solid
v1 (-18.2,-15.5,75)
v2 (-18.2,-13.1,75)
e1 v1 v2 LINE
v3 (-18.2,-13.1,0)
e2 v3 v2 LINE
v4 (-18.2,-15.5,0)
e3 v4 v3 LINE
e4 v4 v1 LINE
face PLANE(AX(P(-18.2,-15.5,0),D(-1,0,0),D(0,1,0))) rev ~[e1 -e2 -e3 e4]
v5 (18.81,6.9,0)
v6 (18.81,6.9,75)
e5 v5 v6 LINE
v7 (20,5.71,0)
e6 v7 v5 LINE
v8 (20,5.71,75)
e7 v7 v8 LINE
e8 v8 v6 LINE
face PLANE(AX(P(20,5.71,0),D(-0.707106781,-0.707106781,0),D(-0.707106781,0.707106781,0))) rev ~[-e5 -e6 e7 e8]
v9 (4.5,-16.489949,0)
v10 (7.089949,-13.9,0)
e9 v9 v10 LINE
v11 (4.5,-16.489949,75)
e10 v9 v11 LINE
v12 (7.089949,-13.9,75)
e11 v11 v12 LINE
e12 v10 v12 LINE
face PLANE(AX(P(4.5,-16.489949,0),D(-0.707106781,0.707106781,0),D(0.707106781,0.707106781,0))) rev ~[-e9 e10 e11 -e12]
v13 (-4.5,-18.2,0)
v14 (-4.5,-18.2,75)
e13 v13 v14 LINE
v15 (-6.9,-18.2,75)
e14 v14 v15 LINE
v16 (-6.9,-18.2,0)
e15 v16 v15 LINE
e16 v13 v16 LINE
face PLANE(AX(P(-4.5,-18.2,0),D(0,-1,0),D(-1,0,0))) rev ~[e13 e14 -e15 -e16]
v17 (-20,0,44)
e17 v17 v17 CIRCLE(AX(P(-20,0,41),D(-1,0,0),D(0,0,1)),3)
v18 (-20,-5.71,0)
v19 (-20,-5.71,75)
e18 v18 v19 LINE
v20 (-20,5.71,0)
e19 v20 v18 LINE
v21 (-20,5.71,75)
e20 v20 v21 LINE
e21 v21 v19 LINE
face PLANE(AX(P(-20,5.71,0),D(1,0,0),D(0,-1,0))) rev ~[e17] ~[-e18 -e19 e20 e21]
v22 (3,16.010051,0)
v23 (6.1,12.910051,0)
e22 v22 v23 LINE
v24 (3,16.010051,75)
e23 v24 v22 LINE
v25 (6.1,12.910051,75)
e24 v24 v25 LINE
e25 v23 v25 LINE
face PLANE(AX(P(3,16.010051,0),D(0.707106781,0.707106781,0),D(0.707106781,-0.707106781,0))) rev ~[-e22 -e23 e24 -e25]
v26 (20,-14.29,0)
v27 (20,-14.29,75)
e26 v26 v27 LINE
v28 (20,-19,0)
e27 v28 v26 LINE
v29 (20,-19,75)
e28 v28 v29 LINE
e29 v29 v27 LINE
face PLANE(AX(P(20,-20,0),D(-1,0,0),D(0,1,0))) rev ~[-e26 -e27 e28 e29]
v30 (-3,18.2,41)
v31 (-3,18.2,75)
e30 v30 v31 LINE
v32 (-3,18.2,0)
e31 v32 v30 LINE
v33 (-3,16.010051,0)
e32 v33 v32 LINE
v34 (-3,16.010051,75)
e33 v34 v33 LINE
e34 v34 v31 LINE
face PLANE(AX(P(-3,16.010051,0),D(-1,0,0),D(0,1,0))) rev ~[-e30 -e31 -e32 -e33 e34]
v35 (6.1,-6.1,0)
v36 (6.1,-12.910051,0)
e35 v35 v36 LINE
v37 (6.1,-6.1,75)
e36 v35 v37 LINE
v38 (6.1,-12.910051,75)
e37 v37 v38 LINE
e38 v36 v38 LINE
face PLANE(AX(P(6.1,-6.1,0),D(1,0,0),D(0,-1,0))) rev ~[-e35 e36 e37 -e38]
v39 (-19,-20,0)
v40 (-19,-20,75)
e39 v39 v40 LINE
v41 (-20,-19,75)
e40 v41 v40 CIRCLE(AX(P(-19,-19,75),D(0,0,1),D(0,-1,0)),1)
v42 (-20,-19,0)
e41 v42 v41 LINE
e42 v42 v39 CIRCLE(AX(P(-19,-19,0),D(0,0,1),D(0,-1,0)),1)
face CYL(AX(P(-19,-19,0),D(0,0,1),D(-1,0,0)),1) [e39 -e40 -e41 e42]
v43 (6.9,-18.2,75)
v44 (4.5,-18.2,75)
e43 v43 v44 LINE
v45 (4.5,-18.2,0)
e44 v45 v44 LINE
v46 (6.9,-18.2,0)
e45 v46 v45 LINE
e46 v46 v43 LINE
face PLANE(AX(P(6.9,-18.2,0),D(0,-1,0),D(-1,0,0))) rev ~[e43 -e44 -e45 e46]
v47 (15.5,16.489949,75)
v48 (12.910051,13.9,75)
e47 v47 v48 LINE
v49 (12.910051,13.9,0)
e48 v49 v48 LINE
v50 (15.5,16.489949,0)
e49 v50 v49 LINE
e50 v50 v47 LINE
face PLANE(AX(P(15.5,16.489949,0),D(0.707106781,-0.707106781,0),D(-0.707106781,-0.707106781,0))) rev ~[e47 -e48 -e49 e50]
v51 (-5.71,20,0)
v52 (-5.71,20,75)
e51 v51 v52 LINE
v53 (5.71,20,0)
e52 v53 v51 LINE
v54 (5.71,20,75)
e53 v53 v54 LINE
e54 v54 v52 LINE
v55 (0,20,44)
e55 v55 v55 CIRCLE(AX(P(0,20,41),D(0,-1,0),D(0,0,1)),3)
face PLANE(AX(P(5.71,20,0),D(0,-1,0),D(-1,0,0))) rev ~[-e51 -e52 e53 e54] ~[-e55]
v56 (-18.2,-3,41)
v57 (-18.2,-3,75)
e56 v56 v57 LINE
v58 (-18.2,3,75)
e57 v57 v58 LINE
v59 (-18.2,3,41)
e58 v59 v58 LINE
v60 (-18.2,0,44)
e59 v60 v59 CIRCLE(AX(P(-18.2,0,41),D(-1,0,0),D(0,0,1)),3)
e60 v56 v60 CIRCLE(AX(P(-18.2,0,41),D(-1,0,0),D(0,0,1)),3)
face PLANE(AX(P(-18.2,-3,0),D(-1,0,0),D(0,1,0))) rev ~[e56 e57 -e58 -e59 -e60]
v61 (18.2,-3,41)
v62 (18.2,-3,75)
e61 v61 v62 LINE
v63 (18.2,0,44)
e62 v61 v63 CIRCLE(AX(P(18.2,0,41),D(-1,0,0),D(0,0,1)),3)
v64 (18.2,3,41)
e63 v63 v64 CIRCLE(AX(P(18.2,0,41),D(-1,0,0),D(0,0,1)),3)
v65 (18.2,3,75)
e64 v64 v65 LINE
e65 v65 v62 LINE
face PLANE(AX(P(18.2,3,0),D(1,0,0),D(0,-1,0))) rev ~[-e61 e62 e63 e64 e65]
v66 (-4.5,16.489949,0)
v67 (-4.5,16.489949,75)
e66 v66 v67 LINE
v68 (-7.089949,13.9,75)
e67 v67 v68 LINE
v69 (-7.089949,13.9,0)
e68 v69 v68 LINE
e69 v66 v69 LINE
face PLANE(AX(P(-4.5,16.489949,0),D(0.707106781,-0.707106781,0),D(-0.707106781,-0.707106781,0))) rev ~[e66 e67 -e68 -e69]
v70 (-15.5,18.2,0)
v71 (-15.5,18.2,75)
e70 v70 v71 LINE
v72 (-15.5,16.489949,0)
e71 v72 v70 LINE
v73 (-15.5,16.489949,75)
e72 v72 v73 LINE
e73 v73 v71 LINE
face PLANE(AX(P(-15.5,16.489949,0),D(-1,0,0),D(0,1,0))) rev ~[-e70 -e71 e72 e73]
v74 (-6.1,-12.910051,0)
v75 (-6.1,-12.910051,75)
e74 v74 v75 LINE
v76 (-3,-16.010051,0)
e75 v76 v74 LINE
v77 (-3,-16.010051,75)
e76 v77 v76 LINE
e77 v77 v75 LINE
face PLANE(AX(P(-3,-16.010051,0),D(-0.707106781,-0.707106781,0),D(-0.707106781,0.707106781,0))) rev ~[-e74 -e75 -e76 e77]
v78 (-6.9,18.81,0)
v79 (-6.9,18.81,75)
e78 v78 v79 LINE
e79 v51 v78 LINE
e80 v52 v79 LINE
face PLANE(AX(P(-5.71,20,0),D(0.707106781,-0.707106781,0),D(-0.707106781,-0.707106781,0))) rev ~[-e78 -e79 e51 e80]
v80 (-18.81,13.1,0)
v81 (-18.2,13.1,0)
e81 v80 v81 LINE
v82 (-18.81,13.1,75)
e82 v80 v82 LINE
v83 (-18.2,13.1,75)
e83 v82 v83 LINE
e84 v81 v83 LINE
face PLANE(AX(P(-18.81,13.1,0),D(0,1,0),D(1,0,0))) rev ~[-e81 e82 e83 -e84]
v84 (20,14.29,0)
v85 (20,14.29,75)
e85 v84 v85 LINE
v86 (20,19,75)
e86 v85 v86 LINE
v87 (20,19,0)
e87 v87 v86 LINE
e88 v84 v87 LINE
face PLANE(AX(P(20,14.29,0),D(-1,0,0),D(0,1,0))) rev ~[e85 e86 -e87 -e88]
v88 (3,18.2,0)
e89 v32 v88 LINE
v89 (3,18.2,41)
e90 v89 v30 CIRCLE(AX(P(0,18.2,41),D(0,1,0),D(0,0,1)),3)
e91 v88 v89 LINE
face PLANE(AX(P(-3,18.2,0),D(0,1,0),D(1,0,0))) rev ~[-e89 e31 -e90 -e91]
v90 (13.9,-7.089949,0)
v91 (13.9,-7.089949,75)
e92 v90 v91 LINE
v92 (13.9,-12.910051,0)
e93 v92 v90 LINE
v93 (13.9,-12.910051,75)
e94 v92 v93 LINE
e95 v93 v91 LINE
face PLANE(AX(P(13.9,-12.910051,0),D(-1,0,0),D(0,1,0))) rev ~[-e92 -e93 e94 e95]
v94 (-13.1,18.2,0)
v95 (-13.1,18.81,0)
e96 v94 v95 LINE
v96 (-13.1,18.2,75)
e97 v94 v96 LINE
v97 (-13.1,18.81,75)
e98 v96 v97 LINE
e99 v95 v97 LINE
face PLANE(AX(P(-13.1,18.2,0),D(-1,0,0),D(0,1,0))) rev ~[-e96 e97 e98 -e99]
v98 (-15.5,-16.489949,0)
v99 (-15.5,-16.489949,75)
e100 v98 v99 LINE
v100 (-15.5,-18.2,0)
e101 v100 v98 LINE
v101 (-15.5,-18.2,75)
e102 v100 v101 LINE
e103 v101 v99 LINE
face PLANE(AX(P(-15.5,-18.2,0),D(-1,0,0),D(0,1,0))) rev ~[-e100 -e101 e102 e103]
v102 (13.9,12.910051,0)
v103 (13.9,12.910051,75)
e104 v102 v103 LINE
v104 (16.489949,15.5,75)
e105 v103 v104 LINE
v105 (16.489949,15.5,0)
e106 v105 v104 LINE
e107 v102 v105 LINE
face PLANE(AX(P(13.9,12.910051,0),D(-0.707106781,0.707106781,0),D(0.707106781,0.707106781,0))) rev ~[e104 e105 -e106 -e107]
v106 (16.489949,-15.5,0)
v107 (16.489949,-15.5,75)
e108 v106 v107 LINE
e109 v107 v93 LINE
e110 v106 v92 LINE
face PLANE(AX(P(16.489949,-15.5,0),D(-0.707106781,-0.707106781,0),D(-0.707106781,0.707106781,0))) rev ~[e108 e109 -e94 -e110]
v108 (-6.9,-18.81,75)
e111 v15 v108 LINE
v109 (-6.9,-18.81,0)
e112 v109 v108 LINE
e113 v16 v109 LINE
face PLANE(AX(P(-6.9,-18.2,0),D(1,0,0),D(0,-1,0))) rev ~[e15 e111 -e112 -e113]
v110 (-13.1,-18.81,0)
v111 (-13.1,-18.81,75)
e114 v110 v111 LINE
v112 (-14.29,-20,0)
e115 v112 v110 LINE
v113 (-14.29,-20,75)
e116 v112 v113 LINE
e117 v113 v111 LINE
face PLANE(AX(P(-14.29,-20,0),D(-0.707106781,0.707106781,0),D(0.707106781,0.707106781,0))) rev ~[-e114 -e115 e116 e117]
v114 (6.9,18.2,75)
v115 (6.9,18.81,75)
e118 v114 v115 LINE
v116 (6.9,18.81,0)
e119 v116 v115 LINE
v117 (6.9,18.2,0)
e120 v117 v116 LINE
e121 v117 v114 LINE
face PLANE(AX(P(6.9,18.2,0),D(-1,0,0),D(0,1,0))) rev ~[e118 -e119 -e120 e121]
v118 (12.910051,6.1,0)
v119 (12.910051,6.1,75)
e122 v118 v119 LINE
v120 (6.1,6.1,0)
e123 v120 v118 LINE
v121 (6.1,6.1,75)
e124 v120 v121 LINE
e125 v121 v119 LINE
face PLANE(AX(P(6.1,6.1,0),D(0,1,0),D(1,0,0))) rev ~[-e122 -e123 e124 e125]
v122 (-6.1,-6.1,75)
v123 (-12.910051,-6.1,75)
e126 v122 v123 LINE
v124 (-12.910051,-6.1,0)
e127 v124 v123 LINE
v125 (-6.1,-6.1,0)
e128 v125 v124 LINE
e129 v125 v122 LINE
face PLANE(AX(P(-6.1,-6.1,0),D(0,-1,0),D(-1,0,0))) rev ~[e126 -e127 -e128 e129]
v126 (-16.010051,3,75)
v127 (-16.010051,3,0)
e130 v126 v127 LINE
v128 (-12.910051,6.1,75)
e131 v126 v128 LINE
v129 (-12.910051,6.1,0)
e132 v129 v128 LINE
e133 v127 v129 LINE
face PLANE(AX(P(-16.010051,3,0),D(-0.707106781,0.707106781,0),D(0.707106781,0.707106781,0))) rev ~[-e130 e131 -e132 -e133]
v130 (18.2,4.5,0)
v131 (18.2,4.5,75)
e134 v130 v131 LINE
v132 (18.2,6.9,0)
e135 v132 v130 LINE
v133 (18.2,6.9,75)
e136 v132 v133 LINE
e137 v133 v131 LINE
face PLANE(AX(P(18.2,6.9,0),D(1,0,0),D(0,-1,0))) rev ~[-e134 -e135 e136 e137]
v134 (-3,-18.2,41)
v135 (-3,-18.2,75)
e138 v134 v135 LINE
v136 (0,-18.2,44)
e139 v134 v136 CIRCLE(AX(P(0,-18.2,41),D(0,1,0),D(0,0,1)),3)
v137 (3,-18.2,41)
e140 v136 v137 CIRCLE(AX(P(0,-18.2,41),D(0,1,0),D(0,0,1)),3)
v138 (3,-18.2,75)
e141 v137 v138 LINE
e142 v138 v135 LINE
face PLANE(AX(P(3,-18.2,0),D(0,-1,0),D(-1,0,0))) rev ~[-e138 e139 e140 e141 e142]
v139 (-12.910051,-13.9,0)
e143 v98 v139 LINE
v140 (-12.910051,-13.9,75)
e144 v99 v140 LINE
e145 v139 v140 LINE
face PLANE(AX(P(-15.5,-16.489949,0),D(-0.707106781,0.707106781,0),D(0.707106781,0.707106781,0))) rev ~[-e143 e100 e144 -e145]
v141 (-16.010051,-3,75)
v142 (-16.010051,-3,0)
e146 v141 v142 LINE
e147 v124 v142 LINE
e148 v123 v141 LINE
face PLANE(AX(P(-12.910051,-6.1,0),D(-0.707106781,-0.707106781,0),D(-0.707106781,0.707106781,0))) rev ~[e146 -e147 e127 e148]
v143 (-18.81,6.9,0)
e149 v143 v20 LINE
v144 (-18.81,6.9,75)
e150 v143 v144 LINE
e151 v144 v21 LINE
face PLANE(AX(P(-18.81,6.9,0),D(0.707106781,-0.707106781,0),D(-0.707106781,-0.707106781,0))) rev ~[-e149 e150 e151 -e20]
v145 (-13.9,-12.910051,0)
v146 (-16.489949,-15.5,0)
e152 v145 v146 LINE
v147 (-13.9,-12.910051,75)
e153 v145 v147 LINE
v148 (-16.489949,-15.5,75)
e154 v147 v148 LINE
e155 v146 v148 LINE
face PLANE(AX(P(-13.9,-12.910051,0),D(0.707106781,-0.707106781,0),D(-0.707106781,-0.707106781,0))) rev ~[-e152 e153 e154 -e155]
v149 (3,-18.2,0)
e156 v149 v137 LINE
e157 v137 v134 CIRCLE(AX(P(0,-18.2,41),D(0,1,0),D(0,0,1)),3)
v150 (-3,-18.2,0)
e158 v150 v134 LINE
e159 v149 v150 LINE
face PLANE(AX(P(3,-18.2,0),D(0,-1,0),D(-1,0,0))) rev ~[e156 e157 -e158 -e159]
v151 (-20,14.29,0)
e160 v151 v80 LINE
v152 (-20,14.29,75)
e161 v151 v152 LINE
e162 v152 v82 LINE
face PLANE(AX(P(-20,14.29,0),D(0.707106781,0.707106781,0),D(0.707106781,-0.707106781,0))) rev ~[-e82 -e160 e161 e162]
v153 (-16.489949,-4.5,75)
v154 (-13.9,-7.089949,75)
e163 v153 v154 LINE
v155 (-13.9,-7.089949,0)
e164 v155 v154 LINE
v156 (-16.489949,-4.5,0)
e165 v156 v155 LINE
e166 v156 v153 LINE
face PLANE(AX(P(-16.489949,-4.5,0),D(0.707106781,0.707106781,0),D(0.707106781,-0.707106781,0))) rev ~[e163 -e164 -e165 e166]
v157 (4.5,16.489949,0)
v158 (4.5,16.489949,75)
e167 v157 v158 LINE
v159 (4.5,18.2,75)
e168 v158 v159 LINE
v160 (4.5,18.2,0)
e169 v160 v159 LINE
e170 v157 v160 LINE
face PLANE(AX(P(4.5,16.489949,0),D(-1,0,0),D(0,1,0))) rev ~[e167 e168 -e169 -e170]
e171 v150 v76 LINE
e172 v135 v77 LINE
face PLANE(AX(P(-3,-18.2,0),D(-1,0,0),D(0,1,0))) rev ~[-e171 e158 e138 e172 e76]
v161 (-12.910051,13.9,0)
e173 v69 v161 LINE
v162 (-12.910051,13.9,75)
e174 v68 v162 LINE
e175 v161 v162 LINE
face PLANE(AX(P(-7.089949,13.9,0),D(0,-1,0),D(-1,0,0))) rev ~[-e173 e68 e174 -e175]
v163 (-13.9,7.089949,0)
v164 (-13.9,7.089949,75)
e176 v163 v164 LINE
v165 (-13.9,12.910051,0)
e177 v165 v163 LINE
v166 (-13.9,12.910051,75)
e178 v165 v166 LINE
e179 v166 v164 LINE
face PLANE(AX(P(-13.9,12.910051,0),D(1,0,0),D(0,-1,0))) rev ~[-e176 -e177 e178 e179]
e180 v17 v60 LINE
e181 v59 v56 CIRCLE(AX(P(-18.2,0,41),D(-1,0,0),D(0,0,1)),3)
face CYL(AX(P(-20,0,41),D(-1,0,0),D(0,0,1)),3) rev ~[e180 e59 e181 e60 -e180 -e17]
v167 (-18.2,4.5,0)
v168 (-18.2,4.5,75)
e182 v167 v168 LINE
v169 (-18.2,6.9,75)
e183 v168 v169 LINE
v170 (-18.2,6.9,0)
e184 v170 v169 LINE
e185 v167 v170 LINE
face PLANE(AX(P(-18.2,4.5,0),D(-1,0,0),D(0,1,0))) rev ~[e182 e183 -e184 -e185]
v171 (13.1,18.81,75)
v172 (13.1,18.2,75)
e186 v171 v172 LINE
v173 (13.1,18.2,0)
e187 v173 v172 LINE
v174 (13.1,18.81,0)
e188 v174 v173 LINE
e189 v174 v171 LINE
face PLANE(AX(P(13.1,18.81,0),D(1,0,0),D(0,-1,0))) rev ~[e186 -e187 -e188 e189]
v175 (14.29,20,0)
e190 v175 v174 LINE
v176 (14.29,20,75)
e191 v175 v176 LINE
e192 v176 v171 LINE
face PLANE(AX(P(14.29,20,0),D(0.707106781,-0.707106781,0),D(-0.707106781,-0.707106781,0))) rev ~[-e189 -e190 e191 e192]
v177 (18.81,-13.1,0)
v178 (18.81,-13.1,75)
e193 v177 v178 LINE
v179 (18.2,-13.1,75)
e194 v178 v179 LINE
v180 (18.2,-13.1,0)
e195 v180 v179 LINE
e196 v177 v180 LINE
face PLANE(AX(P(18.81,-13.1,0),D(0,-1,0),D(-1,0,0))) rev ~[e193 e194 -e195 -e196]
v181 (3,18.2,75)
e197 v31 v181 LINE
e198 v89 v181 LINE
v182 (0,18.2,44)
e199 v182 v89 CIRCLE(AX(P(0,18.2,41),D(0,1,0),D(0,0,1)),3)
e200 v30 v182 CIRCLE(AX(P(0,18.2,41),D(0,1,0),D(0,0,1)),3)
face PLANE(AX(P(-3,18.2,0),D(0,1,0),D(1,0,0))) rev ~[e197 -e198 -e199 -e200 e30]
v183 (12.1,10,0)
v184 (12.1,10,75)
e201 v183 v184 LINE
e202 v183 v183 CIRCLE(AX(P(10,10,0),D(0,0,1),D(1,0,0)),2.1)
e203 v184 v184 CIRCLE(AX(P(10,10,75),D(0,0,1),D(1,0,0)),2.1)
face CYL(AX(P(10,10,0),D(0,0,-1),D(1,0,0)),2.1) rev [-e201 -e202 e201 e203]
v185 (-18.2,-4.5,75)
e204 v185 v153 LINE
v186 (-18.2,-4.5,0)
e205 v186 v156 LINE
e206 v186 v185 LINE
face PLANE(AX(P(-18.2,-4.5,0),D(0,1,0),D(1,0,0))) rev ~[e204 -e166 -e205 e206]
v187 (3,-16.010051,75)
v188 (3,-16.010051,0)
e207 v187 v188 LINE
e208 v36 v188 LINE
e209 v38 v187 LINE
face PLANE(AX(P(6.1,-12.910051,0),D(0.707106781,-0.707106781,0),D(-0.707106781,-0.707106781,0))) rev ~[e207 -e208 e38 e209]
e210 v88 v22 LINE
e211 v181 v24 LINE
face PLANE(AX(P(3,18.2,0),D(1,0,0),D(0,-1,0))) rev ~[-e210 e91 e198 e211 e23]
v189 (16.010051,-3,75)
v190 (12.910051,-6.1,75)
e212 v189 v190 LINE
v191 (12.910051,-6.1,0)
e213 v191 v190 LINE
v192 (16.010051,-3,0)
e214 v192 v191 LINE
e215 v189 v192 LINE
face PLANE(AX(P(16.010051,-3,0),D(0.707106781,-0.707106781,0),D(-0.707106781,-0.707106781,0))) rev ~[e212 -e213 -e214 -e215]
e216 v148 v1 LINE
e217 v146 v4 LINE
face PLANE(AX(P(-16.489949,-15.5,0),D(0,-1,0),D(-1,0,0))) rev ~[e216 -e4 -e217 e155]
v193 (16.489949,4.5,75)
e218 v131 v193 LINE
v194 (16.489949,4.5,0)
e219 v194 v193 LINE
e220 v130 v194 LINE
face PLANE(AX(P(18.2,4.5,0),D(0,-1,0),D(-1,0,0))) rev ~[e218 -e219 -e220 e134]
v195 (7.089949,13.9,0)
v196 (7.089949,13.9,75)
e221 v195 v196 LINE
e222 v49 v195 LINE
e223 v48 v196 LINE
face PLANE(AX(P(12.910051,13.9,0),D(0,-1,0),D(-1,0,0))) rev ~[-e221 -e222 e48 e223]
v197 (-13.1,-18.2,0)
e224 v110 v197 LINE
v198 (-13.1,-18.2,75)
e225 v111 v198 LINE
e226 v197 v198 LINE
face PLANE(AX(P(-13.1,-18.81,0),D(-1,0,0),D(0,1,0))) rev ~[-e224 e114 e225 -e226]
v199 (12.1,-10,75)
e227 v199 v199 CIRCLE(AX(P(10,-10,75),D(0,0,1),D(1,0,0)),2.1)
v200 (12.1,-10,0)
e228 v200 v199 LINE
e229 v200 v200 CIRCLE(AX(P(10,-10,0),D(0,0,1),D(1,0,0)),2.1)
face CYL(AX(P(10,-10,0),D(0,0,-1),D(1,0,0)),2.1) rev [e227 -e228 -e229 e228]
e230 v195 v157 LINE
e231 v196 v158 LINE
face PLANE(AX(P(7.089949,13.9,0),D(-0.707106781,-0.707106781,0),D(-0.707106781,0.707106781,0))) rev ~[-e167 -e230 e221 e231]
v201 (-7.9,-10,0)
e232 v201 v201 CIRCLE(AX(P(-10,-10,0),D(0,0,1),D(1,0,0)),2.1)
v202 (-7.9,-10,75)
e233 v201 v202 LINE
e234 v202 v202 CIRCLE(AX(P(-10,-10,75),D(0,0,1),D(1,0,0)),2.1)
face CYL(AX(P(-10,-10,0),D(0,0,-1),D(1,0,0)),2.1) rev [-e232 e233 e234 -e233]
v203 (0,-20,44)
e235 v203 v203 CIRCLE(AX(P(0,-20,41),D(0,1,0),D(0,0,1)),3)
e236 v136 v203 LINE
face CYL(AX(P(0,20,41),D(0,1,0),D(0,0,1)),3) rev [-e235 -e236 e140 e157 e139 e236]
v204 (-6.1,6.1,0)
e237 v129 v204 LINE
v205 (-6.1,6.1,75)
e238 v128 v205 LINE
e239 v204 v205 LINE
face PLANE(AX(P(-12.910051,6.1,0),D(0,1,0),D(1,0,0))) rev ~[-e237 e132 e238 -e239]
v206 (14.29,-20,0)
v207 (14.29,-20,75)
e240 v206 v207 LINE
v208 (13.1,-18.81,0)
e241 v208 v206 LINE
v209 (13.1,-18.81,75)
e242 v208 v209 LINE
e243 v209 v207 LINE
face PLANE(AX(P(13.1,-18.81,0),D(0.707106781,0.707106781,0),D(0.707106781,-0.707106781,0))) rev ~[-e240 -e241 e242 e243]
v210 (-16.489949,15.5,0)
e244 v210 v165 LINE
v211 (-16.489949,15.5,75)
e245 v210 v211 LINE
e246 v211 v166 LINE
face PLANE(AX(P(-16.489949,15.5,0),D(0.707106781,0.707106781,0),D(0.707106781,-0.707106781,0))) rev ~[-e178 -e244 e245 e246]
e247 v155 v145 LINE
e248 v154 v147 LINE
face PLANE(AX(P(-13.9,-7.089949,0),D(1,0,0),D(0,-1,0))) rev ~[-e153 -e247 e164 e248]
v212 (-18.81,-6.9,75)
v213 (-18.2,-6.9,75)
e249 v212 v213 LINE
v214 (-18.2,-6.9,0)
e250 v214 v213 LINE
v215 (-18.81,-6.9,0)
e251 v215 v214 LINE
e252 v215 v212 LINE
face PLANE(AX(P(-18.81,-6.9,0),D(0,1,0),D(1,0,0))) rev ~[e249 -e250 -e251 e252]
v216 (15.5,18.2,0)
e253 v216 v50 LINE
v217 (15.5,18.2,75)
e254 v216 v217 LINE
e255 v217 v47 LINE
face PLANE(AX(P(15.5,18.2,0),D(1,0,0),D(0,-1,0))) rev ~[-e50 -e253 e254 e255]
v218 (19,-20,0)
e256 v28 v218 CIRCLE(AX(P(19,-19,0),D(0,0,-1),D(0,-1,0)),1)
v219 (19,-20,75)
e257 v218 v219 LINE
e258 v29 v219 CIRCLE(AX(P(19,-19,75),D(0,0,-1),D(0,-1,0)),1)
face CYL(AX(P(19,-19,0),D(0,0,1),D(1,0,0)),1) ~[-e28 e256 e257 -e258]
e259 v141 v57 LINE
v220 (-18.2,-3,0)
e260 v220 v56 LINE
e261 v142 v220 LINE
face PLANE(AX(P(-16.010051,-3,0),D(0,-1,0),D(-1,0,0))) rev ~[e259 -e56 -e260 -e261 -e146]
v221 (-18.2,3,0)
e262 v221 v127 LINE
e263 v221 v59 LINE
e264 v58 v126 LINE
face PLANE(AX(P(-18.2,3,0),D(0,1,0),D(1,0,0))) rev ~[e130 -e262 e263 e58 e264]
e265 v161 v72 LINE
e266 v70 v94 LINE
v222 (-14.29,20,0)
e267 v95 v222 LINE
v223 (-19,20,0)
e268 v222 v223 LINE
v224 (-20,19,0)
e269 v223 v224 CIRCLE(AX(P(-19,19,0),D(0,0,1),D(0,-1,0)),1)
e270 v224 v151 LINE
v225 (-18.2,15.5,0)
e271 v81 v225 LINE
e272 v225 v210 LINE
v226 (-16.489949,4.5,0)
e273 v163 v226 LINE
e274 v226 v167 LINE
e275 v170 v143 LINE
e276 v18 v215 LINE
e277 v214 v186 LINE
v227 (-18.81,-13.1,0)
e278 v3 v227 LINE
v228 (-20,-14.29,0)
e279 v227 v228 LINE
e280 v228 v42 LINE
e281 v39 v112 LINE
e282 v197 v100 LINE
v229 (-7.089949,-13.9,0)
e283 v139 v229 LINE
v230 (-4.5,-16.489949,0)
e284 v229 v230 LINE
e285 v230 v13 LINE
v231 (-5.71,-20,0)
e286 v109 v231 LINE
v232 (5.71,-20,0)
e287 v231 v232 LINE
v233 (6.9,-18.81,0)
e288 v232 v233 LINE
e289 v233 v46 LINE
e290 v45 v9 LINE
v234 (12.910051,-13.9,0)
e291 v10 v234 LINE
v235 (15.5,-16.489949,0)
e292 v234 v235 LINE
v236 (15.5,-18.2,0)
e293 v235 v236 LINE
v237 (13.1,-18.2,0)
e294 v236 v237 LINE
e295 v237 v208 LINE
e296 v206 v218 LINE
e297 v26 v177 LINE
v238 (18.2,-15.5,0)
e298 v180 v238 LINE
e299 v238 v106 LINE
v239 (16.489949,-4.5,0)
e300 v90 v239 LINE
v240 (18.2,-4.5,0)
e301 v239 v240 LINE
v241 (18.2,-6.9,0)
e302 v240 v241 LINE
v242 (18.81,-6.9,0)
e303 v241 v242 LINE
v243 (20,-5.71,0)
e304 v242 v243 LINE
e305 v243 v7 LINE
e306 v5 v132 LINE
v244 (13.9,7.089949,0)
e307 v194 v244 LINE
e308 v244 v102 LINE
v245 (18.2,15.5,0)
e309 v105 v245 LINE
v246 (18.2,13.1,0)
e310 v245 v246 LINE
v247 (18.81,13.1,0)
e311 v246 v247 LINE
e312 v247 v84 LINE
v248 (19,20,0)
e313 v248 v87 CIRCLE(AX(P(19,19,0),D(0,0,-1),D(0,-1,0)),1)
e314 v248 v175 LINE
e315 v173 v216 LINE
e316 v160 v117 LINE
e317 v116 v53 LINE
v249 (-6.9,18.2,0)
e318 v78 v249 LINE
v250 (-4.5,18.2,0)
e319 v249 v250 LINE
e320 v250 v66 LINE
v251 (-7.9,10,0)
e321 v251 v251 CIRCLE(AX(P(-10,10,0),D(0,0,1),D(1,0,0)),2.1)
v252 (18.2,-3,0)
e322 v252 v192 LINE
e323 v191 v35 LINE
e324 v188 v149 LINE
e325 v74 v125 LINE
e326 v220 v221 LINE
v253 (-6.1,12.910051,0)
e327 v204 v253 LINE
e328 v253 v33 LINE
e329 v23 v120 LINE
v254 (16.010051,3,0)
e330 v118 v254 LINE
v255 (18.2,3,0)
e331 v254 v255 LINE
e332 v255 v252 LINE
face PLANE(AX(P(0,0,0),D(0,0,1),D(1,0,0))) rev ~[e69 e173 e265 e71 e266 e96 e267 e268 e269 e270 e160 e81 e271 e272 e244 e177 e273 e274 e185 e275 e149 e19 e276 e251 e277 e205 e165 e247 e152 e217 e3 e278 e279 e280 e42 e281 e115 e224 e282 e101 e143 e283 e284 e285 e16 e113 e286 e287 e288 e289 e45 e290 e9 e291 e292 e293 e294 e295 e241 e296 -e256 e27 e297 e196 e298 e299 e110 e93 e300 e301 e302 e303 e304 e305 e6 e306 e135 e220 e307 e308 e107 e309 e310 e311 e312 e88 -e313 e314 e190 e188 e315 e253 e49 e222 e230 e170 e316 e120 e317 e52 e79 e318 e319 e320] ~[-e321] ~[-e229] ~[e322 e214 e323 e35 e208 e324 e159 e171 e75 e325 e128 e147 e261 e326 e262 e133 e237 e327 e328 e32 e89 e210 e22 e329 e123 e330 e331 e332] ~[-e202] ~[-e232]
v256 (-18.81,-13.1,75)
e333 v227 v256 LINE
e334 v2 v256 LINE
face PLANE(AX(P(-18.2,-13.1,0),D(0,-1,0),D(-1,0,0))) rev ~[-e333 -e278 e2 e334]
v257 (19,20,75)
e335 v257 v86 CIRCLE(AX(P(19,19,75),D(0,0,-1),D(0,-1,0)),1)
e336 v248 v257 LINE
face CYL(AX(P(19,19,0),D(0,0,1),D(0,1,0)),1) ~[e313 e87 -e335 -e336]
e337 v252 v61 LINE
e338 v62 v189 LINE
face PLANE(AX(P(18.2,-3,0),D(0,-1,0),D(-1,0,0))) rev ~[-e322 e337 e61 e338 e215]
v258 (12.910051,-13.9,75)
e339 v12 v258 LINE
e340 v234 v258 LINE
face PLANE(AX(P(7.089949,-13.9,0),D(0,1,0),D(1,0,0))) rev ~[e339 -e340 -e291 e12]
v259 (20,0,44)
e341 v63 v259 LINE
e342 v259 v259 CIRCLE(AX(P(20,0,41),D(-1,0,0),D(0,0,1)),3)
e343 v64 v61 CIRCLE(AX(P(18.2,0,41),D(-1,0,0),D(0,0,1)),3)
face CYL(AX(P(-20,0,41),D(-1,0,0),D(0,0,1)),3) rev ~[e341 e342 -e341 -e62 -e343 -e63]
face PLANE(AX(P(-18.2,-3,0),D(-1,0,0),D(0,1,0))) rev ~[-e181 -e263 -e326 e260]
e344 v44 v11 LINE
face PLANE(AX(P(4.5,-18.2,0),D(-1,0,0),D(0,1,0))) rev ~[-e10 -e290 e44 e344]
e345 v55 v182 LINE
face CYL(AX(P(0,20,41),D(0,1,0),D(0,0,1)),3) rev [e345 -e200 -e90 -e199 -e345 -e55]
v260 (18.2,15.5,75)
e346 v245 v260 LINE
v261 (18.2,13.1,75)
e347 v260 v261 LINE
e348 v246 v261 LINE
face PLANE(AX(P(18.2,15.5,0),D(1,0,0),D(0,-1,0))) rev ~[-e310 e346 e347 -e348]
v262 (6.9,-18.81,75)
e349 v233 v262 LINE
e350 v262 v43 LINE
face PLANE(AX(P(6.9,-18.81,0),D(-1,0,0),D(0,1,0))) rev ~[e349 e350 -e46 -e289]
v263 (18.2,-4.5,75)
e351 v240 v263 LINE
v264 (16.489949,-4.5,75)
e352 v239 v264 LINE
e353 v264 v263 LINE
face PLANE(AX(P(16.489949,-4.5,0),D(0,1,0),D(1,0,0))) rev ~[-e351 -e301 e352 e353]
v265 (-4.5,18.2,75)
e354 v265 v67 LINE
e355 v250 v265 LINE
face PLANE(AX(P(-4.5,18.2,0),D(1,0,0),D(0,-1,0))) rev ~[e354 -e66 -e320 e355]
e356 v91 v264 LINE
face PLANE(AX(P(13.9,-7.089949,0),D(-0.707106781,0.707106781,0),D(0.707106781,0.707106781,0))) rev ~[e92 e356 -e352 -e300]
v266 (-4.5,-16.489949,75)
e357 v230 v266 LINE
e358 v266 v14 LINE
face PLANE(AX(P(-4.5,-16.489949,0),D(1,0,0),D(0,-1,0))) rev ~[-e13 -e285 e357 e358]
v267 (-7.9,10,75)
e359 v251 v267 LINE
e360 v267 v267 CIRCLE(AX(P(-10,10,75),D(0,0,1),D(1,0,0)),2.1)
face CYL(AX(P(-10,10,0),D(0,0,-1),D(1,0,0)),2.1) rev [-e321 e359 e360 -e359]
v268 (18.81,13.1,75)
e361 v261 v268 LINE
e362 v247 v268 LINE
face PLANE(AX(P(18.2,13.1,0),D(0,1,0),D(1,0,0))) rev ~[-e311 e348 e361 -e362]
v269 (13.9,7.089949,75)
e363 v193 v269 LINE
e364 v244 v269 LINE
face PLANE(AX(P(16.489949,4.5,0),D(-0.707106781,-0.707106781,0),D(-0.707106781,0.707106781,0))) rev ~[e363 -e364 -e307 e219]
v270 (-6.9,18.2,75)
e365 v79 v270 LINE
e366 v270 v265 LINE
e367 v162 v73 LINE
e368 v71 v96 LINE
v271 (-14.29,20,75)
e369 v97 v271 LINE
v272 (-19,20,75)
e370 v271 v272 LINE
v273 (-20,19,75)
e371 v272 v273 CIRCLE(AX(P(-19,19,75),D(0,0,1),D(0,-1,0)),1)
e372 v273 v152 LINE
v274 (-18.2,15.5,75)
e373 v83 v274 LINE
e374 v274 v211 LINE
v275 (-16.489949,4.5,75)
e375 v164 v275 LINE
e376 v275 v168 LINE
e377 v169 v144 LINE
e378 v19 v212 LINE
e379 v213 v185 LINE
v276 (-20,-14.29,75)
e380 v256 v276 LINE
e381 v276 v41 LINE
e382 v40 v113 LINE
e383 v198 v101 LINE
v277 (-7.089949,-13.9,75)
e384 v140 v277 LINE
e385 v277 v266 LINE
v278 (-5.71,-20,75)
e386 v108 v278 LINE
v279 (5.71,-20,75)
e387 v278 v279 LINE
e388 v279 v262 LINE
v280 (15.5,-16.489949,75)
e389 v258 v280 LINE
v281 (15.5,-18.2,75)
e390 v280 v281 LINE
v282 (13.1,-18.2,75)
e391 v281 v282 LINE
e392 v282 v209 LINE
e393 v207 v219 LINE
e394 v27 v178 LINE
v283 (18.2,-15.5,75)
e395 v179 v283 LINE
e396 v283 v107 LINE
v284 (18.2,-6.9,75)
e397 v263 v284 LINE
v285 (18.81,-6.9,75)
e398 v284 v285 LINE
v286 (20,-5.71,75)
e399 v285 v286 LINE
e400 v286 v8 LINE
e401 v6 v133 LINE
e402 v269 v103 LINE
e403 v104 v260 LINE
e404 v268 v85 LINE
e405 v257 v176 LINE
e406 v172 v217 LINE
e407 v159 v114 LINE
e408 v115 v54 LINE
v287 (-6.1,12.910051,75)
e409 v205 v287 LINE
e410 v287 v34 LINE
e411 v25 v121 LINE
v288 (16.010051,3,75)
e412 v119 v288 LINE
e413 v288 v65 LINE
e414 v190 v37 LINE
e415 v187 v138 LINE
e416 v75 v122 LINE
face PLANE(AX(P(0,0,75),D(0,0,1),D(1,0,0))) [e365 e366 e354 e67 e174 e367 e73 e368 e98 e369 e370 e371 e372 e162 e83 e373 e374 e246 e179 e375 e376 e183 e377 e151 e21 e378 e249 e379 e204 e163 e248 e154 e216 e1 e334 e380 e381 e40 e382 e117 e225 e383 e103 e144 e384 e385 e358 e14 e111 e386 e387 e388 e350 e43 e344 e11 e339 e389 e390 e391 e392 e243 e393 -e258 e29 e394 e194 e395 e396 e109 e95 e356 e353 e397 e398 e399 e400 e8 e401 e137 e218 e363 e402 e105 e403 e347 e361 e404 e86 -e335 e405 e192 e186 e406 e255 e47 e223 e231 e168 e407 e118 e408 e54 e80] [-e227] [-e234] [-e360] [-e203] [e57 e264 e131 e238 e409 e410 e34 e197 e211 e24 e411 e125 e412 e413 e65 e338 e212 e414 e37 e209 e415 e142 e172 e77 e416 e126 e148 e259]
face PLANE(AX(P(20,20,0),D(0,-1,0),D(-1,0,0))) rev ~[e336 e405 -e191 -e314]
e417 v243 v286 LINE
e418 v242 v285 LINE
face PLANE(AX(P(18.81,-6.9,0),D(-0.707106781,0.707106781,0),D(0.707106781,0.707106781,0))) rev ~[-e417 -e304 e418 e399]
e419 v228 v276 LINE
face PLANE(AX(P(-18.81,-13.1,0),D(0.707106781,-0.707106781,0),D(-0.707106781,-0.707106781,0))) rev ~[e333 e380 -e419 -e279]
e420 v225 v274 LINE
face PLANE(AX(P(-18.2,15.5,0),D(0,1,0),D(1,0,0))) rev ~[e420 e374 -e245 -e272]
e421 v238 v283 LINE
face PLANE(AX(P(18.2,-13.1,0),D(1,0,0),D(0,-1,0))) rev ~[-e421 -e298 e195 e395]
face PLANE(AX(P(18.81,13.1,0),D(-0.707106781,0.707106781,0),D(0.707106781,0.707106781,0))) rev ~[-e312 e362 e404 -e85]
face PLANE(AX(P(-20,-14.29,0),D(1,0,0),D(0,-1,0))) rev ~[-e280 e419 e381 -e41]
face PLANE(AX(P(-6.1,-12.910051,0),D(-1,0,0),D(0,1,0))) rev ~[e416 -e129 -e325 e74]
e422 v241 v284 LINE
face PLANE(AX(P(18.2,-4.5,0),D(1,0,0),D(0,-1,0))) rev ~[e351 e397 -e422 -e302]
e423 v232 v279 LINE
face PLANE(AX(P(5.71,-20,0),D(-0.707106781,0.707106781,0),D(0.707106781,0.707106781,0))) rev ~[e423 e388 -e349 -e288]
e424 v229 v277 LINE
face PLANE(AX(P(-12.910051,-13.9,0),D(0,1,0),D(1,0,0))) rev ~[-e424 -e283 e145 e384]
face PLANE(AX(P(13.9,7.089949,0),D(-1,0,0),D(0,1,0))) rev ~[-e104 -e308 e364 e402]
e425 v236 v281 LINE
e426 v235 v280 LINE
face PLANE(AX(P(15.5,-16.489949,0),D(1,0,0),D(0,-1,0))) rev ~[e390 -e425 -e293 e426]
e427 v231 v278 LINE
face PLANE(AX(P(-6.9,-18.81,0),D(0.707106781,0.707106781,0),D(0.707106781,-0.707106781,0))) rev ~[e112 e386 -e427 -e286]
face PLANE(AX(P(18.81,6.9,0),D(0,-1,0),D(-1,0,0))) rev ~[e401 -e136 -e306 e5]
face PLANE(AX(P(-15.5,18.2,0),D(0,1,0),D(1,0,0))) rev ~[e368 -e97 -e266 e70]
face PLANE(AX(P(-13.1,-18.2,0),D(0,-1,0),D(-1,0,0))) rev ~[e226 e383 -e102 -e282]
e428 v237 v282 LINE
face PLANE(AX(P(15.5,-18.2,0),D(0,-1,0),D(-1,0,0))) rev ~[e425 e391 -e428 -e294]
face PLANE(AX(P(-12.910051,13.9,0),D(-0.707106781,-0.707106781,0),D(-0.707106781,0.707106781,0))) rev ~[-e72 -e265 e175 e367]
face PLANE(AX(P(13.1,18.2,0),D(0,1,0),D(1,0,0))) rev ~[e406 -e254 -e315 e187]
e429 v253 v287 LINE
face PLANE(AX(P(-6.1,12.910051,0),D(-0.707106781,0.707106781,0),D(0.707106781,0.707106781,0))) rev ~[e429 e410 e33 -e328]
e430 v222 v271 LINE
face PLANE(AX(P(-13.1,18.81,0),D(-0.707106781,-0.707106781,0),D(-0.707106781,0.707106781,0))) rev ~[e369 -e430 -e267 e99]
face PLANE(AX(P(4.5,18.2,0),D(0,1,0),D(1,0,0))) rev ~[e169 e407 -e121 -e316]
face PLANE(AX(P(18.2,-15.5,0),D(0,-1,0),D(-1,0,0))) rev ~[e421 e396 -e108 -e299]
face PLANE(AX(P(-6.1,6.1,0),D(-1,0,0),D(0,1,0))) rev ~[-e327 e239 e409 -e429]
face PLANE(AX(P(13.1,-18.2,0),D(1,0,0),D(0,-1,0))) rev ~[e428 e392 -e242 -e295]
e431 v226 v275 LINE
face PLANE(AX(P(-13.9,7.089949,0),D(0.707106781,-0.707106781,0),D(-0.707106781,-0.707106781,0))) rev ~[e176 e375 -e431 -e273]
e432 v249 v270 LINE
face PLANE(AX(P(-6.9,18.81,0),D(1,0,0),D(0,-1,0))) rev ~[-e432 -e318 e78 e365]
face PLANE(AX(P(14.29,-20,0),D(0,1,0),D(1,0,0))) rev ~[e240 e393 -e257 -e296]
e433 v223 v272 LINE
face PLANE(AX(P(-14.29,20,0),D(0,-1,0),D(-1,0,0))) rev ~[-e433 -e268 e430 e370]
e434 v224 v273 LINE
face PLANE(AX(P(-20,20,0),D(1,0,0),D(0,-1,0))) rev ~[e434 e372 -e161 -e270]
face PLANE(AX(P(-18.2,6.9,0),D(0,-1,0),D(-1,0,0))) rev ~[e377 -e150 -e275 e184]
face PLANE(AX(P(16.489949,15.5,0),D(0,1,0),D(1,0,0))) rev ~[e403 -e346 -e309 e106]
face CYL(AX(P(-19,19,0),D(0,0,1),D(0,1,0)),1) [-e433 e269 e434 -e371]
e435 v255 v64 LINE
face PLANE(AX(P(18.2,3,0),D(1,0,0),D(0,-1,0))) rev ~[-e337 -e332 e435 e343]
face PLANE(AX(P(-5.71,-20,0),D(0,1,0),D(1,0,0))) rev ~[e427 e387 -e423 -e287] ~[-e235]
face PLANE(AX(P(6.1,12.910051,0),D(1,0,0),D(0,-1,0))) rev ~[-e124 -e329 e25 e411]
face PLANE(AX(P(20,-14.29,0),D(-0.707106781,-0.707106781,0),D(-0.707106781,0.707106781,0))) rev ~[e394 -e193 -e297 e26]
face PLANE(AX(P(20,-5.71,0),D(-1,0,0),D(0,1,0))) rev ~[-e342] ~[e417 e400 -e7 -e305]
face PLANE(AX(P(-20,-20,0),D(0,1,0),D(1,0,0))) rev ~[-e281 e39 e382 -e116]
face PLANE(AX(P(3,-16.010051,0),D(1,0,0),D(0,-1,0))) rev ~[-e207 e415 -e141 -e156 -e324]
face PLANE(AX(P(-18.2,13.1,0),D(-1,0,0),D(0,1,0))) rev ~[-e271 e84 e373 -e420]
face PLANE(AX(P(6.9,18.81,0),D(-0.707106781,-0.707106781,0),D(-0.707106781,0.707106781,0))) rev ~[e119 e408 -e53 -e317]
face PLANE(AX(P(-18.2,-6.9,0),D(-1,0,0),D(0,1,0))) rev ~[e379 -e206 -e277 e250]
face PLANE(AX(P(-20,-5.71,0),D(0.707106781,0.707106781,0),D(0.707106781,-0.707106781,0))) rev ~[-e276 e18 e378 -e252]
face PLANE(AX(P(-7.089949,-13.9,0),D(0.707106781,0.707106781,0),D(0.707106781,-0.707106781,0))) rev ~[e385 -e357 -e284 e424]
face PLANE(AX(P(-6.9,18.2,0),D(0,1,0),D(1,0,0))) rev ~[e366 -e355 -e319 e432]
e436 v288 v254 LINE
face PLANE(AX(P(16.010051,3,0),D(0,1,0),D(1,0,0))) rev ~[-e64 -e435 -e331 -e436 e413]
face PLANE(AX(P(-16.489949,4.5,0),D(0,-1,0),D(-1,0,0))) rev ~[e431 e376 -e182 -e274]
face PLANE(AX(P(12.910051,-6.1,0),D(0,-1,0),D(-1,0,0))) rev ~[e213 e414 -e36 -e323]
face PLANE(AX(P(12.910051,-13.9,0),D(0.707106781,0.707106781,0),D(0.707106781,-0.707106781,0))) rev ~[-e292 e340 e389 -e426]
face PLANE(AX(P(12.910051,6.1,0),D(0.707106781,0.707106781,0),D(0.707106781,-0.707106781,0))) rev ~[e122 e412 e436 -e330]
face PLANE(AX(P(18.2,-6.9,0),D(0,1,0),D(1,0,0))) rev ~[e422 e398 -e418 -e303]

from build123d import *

# Parameters (mm, degrees)
SKETCH_1_R         = 2.1
EXTRUDE_1_DEPTH    = 75
VERRUNDUNG1_R      = 1
SKETCH1_R          = 3
CUT_EXTRUDE1_DEPTH = 41


with BuildPart() as part:
    # 草图1 → 凸台-拉伸1 (new body)
    with BuildSketch(Plane.XY):
        Polygon((5.71, 20), (-5.71, 20), (-6.9, 18.81), (-6.9, 18.2), (-4.5, 18.2), (-4.5, 16.489949494), (-7.089949494, 13.9), (-12.910050506, 13.9), (-15.5, 16.489949494), (-15.5, 18.2), (-13.1, 18.2), (-13.1, 18.81), (-14.29, 20), (-20, 20), (-20, 14.29), (-18.81, 13.1), (-18.2, 13.1), (-18.2, 15.5), (-16.489949494, 15.5), (-13.9, 12.910050506), (-13.9, 7.089949494), (-16.489949494, 4.5), (-18.2, 4.5), (-18.2, 6.9), (-18.81, 6.9), (-20, 5.71), (-20, -5.71), (-18.81, -6.9), (-18.2, -6.9), (-18.2, -4.5), (-16.489949494, -4.5), (-13.9, -7.089949494), (-13.9, -12.910050506), (-16.489949494, -15.5), (-18.2, -15.5), (-18.2, -13.1), (-18.81, -13.1), (-20, -14.29), (-20, -20), (-14.29, -20), (-13.1, -18.81), (-13.1, -18.2), (-15.5, -18.2), (-15.5, -16.489949494), (-12.910050506, -13.9), (-7.089949494, -13.9), (-4.5, -16.489949494), (-4.5, -18.2), (-6.9, -18.2), (-6.9, -18.81), (-5.71, -20), (5.71, -20), (6.9, -18.81), (6.9, -18.2), (4.5, -18.2), (4.5, -16.489949494), (7.089949494, -13.9), (12.910050506, -13.9), (15.5, -16.489949494), (15.5, -18.2), (13.1, -18.2), (13.1, -18.81), (14.29, -20), (20, -20), (20, -14.29), (18.81, -13.1), (18.2, -13.1), (18.2, -15.5), (16.489949494, -15.5), (13.9, -12.910050506), (13.9, -7.089949494), (16.489949494, -4.5), (18.2, -4.5), (18.2, -6.9), (18.81, -6.9), (20, -5.71), (20, 5.71), (18.81, 6.9), (18.2, 6.9), (18.2, 4.5), (16.489949494, 4.5), (13.9, 7.089949494), (13.9, 12.910050506), (16.489949494, 15.5), (18.2, 15.5), (18.2, 13.1), (18.81, 13.1), (20, 14.29), (20, 20), (14.29, 20), (13.1, 18.81), (13.1, 18.2), (15.5, 18.2), (15.5, 16.489949494), (12.910050506, 13.9), (7.089949494, 13.9), (4.5, 16.489949494), (4.5, 18.2), (6.9, 18.2), (6.9, 18.81), align=None)
        with Locations((-10, 10)):
            Circle(SKETCH_1_R, mode=Mode.SUBTRACT)
        with Locations((-10, -10)):
            Circle(SKETCH_1_R, mode=Mode.SUBTRACT)
        with Locations((10, -10)):
            Circle(SKETCH_1_R, mode=Mode.SUBTRACT)
        with Locations((10, 10)):
            Circle(SKETCH_1_R, mode=Mode.SUBTRACT)
        Polygon((-6.1, 6.1), (-6.1, 12.910050506), (-3, 16.010050506), (-3, 18.2), (3, 18.2), (3, 16.010050506), (6.1, 12.910050506), (6.1, 6.1), (12.910050506, 6.1), (16.010050506, 3), (18.2, 3), (18.2, -3), (16.010050506, -3), (12.910050506, -6.1), (6.1, -6.1), (6.1, -12.910050506), (3, -16.010050506), (3, -18.2), (-3, -18.2), (-3, -16.010050506), (-6.1, -12.910050506), (-6.1, -6.1), (-12.910050506, -6.1), (-16.010050506, -3), (-18.2, -3), (-18.2, 3), (-16.010050506, 3), (-12.910050506, 6.1), align=None, mode=Mode.SUBTRACT)
    extrude(amount=EXTRUDE_1_DEPTH)

    # Verrundung1
    verrundung1_edges = [part.edges().sort_by_distance(p)[0] for p in [
        (20, 20, 37.5),
        (20, -20, 37.5),
        (-20, -20, 37.5),
        (-20, 20, 37.5),
    ]]
    fillet(verrundung1_edges, radius=VERRUNDUNG1_R)

    # Sketch1 → Cut-Extrude1 (cut, through all)
    with BuildSketch(Plane.ZY.offset(20)):
        with Locations((41, 0)):
            Circle(SKETCH1_R)
    cut_extrude1 = extrude(amount=-CUT_EXTRUDE1_DEPTH, mode=Mode.SUBTRACT)

    # Mirror1: Cut-Extrude1 across plane
    add(cut_extrude1.mirror(Plane(origin=(0, 0, 0), x_dir=(0, 0, 1), z_dir=(-0.707106781, -0.707106781, 0))), mode=Mode.SUBTRACT)


solid = part.part
